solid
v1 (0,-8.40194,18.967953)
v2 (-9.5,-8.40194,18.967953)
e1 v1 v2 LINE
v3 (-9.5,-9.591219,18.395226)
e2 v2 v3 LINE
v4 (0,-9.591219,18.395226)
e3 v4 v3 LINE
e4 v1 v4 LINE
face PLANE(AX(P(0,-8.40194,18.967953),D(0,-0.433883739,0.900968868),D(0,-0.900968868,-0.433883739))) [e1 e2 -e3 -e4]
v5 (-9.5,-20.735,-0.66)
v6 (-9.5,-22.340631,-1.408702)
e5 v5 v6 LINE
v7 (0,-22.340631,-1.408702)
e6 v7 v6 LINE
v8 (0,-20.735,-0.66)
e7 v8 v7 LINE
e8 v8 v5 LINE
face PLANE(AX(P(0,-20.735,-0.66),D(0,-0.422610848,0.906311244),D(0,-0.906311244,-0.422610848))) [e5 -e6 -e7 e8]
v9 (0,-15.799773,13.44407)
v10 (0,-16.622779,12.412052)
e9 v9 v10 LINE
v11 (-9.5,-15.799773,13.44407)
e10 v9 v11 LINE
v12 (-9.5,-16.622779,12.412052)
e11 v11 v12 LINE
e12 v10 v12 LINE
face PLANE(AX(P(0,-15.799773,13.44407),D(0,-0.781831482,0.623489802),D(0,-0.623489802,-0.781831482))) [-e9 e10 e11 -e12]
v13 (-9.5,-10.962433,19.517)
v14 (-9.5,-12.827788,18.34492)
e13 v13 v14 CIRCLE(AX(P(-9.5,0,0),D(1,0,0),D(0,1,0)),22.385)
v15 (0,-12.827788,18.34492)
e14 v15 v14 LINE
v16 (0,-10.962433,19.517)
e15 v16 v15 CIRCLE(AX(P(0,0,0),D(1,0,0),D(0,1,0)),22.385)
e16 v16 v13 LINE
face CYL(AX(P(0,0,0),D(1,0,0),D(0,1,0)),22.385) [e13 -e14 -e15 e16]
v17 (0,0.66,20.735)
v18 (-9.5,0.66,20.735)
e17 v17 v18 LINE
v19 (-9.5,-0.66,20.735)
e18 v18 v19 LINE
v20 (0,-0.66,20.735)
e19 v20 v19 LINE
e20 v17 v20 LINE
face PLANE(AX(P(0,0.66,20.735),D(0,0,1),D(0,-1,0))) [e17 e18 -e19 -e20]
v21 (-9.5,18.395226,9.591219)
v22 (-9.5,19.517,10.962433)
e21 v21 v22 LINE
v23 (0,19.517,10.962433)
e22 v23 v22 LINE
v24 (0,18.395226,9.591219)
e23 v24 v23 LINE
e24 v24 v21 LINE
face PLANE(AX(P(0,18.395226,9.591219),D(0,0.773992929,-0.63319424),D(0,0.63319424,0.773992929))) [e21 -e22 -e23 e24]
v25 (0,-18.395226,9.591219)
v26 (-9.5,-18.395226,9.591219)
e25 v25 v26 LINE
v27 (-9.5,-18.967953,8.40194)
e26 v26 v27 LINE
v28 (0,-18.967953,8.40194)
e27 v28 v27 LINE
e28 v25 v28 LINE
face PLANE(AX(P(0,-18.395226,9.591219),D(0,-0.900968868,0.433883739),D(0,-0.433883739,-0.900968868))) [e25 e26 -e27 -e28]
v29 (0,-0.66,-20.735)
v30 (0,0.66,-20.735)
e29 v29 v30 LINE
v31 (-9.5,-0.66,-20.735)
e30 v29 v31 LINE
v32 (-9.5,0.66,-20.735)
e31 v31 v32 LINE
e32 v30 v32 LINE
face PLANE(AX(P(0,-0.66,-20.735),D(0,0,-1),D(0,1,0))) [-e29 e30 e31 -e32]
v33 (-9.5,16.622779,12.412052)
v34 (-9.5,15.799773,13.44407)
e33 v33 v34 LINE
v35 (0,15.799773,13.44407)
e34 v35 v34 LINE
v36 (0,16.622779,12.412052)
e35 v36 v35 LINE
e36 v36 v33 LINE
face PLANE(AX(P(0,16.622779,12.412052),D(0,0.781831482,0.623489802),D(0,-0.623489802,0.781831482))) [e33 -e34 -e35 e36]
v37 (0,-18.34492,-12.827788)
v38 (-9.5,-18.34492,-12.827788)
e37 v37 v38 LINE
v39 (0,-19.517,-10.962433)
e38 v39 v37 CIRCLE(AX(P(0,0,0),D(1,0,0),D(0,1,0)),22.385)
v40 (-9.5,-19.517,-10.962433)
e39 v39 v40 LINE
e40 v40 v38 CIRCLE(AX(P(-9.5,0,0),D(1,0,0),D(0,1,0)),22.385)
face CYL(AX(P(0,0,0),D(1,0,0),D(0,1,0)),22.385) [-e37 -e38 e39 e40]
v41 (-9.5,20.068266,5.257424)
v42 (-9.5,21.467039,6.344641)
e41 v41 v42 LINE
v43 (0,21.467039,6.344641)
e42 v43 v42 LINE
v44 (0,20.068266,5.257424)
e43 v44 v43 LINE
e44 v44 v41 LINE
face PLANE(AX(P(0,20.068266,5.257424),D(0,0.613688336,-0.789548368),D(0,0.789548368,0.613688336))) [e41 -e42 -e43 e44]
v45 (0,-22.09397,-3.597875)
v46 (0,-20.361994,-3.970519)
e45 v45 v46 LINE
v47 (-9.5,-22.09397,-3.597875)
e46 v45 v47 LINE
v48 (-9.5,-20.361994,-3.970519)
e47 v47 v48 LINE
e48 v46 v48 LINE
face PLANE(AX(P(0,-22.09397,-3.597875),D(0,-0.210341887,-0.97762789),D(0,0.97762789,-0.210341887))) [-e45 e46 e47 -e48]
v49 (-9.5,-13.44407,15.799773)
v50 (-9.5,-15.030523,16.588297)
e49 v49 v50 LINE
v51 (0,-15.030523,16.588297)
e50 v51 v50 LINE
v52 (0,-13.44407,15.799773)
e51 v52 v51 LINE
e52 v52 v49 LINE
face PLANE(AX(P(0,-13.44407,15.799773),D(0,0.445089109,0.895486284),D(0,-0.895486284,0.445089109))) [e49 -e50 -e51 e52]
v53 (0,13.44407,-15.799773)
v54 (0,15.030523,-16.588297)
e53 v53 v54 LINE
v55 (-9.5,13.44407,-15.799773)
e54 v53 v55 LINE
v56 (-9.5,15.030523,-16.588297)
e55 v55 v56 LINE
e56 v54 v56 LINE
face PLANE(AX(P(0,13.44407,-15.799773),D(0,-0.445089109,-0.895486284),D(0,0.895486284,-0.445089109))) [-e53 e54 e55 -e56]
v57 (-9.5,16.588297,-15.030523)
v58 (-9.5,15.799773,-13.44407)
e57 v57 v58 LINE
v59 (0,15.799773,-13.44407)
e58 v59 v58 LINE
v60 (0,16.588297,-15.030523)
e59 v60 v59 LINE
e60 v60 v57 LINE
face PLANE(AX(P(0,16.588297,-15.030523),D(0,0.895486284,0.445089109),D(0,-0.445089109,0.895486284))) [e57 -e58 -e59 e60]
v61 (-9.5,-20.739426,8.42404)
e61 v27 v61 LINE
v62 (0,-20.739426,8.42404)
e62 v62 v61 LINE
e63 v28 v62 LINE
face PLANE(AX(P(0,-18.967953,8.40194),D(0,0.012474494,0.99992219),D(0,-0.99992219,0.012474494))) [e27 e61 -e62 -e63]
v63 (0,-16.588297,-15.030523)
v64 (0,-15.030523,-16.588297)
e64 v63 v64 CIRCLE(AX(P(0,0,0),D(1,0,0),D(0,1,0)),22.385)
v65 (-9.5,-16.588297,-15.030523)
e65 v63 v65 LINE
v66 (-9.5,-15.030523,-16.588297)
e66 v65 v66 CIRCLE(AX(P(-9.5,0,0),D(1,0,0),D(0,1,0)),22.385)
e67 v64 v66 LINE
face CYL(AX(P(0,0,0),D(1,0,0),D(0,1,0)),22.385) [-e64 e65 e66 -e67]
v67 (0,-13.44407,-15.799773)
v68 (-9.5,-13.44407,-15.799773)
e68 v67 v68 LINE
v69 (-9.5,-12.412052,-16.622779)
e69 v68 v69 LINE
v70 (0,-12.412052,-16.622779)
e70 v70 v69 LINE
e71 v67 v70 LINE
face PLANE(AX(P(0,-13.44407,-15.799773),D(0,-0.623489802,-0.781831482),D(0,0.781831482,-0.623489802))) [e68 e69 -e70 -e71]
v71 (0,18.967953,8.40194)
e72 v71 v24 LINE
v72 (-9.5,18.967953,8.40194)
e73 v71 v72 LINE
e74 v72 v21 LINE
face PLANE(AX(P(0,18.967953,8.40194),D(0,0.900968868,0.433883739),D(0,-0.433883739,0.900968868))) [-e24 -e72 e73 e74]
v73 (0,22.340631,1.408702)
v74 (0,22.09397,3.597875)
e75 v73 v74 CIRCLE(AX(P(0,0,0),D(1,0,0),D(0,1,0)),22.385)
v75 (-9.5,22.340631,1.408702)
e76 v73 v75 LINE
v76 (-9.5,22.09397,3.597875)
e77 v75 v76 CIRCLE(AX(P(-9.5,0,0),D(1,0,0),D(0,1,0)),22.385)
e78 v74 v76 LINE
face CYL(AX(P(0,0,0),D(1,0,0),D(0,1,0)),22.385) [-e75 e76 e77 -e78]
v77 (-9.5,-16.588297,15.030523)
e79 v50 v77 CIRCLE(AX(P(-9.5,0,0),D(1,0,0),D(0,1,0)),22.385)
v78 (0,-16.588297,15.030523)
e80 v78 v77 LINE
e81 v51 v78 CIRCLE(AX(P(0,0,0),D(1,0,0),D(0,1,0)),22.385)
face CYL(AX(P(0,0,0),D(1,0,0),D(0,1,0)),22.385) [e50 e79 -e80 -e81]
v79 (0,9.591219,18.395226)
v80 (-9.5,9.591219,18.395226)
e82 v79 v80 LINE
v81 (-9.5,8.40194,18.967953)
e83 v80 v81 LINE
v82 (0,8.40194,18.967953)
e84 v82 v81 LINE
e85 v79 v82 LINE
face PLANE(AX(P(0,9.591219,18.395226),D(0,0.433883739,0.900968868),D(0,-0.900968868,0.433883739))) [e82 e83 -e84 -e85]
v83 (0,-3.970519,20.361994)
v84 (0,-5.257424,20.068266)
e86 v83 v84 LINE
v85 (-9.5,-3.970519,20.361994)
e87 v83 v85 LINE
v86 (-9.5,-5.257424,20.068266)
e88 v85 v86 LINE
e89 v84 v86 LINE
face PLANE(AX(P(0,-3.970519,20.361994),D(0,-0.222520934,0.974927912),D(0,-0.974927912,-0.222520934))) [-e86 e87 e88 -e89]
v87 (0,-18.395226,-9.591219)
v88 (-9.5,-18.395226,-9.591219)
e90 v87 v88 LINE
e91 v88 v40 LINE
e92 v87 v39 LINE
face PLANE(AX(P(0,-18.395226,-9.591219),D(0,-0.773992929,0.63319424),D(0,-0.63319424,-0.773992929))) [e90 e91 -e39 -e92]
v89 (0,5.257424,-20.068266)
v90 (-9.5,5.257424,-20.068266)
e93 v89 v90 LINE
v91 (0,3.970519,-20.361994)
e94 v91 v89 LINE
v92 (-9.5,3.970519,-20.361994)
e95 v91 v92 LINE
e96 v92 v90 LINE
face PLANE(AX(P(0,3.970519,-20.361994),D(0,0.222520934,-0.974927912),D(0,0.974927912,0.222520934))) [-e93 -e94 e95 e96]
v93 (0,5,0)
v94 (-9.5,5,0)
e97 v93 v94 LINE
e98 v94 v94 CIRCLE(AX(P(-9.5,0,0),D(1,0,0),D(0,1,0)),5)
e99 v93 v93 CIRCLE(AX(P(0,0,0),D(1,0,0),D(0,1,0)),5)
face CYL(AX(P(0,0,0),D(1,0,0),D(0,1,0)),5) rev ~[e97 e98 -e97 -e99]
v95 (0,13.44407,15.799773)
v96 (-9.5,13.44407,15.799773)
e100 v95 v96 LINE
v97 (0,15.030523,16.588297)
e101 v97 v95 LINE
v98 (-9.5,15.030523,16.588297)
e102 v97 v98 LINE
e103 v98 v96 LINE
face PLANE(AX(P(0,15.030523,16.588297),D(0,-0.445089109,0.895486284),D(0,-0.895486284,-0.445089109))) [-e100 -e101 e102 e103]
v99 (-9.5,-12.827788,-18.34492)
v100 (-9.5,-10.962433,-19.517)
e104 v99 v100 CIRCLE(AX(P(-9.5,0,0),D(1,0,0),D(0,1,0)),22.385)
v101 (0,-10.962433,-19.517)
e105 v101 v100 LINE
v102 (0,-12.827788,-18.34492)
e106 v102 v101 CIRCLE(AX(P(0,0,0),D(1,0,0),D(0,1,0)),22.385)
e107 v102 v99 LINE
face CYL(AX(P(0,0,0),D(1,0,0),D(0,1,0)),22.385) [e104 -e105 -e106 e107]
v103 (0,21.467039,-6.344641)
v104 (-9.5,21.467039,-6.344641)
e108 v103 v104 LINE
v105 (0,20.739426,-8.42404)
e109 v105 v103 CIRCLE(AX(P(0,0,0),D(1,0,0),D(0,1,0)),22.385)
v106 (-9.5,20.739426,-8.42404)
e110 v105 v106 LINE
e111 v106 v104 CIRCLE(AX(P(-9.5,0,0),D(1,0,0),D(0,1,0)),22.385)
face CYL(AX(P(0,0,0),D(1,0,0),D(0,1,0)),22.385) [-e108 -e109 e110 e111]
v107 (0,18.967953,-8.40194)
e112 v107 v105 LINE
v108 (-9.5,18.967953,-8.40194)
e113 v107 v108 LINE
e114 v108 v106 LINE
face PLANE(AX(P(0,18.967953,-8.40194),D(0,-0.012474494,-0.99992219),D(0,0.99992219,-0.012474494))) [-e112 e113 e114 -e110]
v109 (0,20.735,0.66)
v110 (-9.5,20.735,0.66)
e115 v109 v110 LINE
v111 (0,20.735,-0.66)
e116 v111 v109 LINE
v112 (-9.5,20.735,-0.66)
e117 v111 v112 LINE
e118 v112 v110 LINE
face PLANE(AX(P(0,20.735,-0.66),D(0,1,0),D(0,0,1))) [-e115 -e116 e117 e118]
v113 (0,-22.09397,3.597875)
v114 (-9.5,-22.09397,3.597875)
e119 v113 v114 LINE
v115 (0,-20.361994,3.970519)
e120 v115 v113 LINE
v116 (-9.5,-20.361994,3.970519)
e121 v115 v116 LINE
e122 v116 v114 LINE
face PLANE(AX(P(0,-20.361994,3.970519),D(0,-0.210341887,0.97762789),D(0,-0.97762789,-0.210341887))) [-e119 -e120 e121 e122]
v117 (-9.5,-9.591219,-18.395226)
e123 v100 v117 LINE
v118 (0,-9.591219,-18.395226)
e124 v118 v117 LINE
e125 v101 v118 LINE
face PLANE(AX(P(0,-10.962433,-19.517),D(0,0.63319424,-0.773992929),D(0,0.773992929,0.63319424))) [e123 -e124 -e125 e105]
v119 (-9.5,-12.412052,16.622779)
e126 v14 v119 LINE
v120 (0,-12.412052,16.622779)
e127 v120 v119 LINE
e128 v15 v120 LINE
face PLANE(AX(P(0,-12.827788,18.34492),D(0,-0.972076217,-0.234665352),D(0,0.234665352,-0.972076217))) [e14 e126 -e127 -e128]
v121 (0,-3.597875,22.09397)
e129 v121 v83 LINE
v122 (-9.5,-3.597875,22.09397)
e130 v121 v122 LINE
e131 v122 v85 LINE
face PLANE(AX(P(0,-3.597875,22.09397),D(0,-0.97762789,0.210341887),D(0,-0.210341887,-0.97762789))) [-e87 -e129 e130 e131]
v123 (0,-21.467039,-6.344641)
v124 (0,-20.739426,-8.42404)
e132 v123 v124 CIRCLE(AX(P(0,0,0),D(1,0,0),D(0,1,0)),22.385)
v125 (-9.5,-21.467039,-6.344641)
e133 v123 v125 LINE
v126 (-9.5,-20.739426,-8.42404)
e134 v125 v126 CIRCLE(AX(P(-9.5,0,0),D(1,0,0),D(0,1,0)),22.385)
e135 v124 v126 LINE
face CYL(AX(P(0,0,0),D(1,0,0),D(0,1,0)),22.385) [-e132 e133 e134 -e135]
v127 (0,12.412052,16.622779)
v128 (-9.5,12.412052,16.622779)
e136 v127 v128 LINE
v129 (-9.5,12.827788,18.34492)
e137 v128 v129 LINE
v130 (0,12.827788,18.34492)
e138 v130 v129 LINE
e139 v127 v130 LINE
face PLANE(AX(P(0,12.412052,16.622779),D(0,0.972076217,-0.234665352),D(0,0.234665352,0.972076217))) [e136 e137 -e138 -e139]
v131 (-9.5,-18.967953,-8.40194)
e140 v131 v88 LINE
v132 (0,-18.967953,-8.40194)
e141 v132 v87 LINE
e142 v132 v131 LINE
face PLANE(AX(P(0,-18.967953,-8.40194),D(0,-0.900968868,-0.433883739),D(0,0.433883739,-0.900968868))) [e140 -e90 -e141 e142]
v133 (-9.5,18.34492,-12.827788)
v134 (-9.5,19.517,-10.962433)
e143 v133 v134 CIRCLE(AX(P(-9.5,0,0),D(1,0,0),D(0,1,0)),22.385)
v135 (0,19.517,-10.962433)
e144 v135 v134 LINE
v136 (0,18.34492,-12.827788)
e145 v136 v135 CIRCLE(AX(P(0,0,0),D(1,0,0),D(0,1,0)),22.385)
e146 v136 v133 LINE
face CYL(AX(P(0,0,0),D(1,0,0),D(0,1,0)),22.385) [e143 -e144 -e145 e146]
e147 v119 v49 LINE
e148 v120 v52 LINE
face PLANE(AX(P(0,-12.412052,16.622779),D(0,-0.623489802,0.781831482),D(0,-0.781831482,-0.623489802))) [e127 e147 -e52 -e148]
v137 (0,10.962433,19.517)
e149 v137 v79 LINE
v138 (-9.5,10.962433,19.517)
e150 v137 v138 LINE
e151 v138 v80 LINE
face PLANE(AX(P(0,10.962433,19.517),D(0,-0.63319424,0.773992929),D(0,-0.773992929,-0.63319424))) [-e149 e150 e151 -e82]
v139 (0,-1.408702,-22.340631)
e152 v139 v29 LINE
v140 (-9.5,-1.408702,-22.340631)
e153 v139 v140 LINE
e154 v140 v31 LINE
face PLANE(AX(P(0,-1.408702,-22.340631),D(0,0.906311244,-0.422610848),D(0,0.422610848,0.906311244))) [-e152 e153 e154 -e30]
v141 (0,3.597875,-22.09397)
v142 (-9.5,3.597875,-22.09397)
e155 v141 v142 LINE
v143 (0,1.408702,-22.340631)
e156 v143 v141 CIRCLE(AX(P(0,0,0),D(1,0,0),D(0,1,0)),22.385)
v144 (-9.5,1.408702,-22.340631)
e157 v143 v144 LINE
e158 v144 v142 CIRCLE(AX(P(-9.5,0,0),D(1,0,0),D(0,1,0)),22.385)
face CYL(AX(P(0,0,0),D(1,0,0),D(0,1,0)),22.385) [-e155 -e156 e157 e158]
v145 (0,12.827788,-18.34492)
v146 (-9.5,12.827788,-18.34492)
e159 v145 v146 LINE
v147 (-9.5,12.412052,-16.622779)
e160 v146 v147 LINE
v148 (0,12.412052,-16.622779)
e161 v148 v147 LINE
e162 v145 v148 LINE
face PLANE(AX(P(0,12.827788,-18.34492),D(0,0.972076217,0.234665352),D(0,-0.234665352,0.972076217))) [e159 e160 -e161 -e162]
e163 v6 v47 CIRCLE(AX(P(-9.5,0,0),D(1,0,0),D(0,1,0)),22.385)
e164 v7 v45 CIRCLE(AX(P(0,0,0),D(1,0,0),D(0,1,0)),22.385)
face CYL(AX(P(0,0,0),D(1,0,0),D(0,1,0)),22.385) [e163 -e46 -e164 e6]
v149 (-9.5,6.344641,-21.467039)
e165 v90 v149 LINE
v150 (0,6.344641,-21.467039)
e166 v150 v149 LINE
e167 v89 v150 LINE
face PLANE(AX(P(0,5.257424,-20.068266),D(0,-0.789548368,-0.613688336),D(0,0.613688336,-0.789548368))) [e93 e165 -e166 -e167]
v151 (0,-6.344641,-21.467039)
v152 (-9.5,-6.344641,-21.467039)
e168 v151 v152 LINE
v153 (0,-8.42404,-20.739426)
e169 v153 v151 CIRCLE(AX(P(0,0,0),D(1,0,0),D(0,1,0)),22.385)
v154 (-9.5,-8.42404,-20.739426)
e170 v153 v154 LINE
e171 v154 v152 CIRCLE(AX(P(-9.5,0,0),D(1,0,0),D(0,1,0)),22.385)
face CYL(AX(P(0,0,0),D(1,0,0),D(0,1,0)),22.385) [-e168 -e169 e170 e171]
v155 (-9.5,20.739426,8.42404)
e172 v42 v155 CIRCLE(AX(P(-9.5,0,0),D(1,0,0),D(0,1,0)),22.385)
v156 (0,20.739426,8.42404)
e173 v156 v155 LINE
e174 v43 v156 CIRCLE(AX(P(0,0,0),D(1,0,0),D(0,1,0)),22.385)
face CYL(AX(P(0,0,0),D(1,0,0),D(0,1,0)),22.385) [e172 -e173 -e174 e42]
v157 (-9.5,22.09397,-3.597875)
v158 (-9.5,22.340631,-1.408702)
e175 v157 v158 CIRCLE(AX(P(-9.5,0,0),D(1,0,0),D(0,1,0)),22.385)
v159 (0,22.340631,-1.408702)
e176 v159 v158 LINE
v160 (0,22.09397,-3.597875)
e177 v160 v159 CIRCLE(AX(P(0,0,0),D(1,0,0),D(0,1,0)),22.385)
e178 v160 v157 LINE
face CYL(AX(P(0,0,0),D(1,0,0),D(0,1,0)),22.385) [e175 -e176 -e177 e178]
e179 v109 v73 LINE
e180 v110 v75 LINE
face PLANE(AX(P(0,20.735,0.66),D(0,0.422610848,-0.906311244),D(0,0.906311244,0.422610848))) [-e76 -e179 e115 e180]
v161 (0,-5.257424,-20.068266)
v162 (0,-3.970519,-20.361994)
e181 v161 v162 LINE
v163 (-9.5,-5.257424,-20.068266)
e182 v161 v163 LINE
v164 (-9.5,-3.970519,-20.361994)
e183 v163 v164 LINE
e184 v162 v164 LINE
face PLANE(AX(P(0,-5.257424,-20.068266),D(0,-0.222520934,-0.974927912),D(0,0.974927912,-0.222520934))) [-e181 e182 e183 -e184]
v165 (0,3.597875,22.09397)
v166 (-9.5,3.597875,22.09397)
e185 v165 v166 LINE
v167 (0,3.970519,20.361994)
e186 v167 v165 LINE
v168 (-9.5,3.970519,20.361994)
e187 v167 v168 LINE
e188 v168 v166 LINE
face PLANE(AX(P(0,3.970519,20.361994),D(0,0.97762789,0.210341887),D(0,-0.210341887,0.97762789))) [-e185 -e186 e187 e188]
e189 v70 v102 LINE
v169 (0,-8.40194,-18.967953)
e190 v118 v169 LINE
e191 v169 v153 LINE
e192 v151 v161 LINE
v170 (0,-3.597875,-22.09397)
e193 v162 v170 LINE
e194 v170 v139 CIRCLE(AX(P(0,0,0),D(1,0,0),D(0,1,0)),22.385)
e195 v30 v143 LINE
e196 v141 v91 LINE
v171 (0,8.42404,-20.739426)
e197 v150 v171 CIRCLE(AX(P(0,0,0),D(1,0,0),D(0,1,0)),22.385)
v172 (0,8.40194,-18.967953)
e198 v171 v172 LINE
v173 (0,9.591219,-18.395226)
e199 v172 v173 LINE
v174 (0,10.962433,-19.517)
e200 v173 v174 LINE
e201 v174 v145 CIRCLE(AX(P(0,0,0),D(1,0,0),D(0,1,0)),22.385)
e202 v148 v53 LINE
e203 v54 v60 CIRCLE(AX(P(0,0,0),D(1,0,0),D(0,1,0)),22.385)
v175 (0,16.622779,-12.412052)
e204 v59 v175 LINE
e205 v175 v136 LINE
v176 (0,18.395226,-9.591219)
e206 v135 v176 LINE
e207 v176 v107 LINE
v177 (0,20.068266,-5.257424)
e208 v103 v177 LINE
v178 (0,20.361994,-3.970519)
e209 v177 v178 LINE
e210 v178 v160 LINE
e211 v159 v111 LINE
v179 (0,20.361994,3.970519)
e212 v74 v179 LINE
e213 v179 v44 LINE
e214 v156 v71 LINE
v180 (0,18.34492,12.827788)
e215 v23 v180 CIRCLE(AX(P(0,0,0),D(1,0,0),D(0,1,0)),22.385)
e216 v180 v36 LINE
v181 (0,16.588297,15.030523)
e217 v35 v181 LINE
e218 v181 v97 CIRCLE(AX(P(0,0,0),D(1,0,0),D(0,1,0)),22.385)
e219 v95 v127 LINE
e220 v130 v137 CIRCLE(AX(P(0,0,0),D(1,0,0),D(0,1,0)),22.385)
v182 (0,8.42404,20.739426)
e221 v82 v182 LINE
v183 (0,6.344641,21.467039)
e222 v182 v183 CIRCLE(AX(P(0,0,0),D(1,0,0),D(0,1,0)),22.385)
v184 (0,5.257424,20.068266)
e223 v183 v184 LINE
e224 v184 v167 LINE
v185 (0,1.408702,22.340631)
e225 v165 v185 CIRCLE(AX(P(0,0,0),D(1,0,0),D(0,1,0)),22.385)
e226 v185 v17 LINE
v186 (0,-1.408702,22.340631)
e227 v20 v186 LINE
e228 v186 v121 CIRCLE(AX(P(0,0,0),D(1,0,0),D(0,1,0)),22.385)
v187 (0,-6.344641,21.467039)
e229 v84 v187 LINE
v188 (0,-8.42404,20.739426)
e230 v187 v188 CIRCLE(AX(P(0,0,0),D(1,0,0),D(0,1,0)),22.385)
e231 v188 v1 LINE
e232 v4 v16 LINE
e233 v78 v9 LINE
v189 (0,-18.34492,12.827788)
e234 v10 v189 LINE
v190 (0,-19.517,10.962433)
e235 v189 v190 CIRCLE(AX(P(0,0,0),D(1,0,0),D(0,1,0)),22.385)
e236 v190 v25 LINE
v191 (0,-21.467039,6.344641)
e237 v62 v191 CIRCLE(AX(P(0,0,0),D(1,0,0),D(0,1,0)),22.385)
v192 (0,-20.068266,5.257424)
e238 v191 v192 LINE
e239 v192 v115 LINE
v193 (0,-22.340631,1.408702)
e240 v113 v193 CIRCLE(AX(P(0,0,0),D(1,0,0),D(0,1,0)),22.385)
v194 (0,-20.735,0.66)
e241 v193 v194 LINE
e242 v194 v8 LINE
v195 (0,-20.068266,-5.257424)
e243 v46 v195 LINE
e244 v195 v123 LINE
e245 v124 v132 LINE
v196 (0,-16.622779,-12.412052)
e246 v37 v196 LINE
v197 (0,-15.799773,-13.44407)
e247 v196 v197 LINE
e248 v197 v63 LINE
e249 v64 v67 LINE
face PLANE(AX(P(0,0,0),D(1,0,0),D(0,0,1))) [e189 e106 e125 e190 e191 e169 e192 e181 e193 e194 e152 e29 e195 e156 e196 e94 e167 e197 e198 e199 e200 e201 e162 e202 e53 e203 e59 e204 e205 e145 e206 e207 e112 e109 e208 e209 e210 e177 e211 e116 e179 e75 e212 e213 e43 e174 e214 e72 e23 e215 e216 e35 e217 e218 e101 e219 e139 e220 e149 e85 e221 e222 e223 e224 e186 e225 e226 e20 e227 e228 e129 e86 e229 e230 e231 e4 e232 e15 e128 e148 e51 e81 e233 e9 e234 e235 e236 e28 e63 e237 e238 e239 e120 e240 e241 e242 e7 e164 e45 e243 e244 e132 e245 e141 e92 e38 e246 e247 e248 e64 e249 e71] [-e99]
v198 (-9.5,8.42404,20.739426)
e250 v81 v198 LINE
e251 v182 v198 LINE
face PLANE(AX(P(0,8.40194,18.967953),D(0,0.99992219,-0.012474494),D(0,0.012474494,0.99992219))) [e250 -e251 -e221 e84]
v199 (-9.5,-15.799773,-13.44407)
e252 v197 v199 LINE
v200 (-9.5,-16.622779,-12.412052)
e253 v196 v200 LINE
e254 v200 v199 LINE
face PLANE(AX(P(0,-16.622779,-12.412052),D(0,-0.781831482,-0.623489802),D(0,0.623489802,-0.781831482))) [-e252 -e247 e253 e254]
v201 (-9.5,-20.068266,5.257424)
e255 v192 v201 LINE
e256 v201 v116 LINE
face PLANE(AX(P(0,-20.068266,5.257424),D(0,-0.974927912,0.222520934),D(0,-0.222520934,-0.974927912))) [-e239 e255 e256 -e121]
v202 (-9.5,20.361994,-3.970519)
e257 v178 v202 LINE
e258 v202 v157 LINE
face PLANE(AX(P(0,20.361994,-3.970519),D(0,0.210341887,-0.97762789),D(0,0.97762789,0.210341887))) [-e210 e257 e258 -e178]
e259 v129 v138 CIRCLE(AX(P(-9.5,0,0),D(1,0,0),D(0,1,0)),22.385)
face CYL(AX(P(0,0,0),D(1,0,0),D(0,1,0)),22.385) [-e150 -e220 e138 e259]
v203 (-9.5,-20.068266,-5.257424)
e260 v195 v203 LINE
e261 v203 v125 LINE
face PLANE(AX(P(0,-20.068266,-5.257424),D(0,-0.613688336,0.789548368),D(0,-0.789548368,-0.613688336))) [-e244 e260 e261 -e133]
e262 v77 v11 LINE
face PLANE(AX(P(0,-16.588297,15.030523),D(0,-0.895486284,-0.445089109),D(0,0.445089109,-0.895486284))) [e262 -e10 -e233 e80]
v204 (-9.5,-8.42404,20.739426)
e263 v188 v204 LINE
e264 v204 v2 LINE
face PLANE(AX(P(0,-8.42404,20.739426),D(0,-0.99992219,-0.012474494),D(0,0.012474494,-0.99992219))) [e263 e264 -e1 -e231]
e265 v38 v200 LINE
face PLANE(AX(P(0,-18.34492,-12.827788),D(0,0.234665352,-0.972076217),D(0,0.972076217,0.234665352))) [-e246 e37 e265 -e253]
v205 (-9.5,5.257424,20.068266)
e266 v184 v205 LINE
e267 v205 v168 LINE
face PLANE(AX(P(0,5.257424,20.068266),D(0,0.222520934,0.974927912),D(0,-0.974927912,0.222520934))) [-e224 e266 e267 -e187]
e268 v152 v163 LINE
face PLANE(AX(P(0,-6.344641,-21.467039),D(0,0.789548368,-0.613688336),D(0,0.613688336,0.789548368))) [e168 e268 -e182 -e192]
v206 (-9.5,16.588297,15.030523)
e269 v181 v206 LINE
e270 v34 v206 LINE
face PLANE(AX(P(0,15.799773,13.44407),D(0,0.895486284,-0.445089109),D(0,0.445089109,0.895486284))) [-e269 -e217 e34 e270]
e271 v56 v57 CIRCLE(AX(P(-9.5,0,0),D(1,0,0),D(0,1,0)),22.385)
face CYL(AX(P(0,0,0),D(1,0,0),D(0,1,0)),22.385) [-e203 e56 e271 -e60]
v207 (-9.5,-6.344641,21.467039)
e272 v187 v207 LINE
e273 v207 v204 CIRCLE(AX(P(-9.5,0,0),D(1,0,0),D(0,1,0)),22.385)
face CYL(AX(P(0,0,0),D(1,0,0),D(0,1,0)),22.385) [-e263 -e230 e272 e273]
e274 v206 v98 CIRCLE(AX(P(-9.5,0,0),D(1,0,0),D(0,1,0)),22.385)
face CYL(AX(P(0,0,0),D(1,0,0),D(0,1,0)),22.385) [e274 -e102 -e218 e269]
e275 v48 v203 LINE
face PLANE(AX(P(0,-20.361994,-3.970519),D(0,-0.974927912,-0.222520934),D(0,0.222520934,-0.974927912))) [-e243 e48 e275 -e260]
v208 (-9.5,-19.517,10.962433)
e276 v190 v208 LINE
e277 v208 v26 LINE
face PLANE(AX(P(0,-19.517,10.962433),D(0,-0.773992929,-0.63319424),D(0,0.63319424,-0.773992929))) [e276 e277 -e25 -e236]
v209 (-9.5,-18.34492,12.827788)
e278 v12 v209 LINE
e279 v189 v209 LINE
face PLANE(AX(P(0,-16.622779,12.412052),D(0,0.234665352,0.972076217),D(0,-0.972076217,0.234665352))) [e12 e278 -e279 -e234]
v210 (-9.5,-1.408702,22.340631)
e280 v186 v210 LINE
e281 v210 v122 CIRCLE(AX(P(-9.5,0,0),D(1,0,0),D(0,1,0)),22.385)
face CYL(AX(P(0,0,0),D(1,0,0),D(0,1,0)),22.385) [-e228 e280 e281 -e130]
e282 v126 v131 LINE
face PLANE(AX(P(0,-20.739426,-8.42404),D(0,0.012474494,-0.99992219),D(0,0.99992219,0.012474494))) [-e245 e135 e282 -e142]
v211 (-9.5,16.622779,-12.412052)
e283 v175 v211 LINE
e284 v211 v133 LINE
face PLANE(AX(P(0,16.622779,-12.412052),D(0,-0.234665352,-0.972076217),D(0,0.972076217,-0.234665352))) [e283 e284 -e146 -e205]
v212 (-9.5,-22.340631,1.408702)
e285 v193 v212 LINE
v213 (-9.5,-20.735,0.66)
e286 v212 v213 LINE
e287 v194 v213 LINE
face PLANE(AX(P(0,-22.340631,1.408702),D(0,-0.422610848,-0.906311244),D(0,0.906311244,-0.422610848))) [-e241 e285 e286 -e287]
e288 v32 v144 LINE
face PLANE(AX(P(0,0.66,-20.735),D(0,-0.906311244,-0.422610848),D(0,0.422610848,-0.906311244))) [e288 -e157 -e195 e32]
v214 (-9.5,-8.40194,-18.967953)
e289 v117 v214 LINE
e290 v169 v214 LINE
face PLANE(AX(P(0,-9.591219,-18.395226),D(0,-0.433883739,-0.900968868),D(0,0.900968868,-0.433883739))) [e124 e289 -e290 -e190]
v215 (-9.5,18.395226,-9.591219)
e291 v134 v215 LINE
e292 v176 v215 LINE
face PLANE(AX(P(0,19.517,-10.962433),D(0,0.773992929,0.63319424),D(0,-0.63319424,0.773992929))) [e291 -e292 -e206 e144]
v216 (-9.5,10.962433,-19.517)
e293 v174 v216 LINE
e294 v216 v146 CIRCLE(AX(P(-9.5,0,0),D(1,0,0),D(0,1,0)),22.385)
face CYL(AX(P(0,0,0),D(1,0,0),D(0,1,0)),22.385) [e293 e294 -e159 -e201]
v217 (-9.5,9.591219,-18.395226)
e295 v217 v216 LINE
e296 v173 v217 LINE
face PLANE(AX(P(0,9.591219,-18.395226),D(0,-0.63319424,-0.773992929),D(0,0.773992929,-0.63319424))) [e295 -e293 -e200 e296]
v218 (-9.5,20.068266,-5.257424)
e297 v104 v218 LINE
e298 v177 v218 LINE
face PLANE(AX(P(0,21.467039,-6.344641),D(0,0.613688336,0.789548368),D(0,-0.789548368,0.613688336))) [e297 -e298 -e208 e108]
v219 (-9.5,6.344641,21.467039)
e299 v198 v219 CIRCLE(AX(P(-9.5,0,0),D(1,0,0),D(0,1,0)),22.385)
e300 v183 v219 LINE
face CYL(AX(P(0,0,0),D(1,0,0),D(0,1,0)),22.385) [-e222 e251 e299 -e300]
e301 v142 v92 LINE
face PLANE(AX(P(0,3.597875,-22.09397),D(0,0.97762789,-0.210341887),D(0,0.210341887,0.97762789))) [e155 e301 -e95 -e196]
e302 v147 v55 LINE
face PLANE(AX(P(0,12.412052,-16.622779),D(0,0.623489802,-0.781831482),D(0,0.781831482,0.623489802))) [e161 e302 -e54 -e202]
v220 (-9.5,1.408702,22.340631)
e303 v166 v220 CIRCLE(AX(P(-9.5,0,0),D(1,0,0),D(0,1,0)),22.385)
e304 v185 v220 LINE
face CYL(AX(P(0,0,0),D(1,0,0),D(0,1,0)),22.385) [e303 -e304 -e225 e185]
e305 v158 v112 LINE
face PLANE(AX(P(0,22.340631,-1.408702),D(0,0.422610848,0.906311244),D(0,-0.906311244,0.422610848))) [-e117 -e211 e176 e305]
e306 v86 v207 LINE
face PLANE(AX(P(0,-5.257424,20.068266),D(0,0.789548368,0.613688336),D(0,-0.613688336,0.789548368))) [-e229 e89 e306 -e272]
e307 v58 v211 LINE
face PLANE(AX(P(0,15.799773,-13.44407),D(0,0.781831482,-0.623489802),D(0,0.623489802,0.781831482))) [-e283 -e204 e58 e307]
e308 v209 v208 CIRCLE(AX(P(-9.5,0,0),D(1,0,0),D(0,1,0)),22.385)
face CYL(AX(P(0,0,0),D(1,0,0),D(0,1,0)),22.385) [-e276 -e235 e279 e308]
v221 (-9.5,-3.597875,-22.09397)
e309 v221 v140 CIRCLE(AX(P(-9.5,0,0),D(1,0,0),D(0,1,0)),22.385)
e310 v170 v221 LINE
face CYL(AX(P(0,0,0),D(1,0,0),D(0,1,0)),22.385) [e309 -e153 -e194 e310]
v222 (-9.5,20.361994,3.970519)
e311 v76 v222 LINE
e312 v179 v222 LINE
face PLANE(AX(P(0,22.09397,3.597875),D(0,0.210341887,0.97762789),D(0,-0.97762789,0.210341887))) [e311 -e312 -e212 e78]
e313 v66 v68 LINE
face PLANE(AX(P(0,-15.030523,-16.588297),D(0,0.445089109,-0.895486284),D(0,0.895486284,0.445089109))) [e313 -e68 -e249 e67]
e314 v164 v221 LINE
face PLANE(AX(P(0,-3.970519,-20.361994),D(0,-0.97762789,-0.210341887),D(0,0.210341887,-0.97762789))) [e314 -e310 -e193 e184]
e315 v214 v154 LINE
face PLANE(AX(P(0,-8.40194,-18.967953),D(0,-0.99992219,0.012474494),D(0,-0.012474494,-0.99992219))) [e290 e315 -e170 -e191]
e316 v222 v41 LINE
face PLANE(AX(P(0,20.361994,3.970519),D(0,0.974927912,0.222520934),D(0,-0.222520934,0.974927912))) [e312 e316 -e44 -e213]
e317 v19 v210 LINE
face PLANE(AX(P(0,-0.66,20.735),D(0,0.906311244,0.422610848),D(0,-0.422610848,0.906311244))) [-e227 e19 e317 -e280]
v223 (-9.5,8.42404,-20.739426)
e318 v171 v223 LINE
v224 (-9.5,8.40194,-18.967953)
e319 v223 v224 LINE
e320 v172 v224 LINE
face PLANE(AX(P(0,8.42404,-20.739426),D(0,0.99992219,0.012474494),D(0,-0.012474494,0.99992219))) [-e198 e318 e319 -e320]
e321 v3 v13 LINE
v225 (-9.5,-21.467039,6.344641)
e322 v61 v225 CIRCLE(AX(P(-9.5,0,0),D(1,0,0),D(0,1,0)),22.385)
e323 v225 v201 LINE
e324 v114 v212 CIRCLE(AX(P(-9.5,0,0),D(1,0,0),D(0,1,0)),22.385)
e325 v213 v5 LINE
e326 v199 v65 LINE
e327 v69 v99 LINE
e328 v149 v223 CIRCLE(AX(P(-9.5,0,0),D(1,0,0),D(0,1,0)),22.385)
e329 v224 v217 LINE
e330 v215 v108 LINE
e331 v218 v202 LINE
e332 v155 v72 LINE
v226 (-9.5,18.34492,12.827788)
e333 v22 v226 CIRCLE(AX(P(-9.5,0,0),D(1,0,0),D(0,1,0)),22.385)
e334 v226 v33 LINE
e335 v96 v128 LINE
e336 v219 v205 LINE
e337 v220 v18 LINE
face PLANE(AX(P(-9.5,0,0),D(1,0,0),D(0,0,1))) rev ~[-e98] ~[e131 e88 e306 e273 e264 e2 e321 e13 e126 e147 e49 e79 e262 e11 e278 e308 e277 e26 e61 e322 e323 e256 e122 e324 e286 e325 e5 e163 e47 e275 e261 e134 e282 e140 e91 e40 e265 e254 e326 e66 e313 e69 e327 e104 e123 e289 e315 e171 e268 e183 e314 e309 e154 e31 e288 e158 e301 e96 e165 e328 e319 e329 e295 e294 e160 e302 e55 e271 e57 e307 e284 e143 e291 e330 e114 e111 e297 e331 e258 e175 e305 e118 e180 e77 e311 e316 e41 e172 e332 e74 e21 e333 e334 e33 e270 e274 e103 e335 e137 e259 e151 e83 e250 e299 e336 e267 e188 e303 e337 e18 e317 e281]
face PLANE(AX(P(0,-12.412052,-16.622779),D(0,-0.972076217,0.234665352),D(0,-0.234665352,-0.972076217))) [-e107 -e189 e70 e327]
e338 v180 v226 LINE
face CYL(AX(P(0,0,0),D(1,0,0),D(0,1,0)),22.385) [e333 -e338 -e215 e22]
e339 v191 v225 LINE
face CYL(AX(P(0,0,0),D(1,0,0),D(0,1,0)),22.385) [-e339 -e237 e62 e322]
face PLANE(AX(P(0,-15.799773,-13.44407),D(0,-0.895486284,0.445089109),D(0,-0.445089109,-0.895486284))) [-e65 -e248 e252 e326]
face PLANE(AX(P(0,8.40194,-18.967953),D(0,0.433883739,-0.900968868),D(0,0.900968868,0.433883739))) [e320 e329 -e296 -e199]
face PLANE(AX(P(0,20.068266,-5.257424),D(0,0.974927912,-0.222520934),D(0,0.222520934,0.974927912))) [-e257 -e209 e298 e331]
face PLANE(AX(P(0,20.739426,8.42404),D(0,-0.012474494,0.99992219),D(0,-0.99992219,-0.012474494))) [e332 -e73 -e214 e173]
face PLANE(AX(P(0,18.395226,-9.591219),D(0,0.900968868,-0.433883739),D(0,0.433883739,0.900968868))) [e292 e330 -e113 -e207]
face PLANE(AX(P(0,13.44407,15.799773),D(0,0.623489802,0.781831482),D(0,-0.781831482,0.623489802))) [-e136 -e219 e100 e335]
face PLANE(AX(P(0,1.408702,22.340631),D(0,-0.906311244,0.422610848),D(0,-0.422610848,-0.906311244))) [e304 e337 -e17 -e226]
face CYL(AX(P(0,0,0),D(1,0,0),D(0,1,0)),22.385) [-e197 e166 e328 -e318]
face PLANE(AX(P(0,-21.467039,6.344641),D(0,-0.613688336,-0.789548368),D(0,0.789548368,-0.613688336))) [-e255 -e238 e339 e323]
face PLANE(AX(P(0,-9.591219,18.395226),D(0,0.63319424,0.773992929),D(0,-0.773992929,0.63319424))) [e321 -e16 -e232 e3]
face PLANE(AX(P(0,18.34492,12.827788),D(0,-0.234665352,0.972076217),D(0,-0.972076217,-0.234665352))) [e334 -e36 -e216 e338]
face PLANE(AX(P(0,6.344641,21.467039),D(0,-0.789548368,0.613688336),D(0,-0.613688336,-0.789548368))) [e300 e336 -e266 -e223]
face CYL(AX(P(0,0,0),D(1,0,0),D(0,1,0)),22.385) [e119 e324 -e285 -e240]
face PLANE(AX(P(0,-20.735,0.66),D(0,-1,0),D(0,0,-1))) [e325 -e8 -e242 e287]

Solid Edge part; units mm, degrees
sketch "Sketch1" plane through (0, 0, 0) normal (1, 0, 0) x (0, 1, 0)
  circle A0 centre (0, 0) radius 22.385
  dimension "D1" = 44.77
extrude "Protrusion1" add sketch "Sketch1" against normal blind 9.5
sketch "Sketch2" plane through (0, 0, 0) normal (1, 0, 0) x (0, 1, 0)
  circle A0 centre (0, 0) radius 5
  dimension "D1" = 10
extrude "Cutout1" cut sketch "Sketch2" against normal up to next
sketch "Sketch3" plane through (0, 0, 0) normal (1, 0, 0) x (0, 1, 0)
  line L0 (1.4087, 22.3406) -> (0.66, 20.735)
  line L1 (0.66, 20.735) -> (-0.66, 20.735)
  line L2 (-0.66, 20.735) -> (-1.4087, 22.3406)
  arc A0 (1.4087, 22.3406) -> (-1.4087, 22.3406) centre (0, 0) ccw
extrude "Cutout2" cut sketch "Sketch3" against normal blind 14000
pattern_circular "Pattern1" count 28 over 360 about axis through (0, 0, 0) along (1, 0, 0) of "Cutout2"
properties material "Steel"
